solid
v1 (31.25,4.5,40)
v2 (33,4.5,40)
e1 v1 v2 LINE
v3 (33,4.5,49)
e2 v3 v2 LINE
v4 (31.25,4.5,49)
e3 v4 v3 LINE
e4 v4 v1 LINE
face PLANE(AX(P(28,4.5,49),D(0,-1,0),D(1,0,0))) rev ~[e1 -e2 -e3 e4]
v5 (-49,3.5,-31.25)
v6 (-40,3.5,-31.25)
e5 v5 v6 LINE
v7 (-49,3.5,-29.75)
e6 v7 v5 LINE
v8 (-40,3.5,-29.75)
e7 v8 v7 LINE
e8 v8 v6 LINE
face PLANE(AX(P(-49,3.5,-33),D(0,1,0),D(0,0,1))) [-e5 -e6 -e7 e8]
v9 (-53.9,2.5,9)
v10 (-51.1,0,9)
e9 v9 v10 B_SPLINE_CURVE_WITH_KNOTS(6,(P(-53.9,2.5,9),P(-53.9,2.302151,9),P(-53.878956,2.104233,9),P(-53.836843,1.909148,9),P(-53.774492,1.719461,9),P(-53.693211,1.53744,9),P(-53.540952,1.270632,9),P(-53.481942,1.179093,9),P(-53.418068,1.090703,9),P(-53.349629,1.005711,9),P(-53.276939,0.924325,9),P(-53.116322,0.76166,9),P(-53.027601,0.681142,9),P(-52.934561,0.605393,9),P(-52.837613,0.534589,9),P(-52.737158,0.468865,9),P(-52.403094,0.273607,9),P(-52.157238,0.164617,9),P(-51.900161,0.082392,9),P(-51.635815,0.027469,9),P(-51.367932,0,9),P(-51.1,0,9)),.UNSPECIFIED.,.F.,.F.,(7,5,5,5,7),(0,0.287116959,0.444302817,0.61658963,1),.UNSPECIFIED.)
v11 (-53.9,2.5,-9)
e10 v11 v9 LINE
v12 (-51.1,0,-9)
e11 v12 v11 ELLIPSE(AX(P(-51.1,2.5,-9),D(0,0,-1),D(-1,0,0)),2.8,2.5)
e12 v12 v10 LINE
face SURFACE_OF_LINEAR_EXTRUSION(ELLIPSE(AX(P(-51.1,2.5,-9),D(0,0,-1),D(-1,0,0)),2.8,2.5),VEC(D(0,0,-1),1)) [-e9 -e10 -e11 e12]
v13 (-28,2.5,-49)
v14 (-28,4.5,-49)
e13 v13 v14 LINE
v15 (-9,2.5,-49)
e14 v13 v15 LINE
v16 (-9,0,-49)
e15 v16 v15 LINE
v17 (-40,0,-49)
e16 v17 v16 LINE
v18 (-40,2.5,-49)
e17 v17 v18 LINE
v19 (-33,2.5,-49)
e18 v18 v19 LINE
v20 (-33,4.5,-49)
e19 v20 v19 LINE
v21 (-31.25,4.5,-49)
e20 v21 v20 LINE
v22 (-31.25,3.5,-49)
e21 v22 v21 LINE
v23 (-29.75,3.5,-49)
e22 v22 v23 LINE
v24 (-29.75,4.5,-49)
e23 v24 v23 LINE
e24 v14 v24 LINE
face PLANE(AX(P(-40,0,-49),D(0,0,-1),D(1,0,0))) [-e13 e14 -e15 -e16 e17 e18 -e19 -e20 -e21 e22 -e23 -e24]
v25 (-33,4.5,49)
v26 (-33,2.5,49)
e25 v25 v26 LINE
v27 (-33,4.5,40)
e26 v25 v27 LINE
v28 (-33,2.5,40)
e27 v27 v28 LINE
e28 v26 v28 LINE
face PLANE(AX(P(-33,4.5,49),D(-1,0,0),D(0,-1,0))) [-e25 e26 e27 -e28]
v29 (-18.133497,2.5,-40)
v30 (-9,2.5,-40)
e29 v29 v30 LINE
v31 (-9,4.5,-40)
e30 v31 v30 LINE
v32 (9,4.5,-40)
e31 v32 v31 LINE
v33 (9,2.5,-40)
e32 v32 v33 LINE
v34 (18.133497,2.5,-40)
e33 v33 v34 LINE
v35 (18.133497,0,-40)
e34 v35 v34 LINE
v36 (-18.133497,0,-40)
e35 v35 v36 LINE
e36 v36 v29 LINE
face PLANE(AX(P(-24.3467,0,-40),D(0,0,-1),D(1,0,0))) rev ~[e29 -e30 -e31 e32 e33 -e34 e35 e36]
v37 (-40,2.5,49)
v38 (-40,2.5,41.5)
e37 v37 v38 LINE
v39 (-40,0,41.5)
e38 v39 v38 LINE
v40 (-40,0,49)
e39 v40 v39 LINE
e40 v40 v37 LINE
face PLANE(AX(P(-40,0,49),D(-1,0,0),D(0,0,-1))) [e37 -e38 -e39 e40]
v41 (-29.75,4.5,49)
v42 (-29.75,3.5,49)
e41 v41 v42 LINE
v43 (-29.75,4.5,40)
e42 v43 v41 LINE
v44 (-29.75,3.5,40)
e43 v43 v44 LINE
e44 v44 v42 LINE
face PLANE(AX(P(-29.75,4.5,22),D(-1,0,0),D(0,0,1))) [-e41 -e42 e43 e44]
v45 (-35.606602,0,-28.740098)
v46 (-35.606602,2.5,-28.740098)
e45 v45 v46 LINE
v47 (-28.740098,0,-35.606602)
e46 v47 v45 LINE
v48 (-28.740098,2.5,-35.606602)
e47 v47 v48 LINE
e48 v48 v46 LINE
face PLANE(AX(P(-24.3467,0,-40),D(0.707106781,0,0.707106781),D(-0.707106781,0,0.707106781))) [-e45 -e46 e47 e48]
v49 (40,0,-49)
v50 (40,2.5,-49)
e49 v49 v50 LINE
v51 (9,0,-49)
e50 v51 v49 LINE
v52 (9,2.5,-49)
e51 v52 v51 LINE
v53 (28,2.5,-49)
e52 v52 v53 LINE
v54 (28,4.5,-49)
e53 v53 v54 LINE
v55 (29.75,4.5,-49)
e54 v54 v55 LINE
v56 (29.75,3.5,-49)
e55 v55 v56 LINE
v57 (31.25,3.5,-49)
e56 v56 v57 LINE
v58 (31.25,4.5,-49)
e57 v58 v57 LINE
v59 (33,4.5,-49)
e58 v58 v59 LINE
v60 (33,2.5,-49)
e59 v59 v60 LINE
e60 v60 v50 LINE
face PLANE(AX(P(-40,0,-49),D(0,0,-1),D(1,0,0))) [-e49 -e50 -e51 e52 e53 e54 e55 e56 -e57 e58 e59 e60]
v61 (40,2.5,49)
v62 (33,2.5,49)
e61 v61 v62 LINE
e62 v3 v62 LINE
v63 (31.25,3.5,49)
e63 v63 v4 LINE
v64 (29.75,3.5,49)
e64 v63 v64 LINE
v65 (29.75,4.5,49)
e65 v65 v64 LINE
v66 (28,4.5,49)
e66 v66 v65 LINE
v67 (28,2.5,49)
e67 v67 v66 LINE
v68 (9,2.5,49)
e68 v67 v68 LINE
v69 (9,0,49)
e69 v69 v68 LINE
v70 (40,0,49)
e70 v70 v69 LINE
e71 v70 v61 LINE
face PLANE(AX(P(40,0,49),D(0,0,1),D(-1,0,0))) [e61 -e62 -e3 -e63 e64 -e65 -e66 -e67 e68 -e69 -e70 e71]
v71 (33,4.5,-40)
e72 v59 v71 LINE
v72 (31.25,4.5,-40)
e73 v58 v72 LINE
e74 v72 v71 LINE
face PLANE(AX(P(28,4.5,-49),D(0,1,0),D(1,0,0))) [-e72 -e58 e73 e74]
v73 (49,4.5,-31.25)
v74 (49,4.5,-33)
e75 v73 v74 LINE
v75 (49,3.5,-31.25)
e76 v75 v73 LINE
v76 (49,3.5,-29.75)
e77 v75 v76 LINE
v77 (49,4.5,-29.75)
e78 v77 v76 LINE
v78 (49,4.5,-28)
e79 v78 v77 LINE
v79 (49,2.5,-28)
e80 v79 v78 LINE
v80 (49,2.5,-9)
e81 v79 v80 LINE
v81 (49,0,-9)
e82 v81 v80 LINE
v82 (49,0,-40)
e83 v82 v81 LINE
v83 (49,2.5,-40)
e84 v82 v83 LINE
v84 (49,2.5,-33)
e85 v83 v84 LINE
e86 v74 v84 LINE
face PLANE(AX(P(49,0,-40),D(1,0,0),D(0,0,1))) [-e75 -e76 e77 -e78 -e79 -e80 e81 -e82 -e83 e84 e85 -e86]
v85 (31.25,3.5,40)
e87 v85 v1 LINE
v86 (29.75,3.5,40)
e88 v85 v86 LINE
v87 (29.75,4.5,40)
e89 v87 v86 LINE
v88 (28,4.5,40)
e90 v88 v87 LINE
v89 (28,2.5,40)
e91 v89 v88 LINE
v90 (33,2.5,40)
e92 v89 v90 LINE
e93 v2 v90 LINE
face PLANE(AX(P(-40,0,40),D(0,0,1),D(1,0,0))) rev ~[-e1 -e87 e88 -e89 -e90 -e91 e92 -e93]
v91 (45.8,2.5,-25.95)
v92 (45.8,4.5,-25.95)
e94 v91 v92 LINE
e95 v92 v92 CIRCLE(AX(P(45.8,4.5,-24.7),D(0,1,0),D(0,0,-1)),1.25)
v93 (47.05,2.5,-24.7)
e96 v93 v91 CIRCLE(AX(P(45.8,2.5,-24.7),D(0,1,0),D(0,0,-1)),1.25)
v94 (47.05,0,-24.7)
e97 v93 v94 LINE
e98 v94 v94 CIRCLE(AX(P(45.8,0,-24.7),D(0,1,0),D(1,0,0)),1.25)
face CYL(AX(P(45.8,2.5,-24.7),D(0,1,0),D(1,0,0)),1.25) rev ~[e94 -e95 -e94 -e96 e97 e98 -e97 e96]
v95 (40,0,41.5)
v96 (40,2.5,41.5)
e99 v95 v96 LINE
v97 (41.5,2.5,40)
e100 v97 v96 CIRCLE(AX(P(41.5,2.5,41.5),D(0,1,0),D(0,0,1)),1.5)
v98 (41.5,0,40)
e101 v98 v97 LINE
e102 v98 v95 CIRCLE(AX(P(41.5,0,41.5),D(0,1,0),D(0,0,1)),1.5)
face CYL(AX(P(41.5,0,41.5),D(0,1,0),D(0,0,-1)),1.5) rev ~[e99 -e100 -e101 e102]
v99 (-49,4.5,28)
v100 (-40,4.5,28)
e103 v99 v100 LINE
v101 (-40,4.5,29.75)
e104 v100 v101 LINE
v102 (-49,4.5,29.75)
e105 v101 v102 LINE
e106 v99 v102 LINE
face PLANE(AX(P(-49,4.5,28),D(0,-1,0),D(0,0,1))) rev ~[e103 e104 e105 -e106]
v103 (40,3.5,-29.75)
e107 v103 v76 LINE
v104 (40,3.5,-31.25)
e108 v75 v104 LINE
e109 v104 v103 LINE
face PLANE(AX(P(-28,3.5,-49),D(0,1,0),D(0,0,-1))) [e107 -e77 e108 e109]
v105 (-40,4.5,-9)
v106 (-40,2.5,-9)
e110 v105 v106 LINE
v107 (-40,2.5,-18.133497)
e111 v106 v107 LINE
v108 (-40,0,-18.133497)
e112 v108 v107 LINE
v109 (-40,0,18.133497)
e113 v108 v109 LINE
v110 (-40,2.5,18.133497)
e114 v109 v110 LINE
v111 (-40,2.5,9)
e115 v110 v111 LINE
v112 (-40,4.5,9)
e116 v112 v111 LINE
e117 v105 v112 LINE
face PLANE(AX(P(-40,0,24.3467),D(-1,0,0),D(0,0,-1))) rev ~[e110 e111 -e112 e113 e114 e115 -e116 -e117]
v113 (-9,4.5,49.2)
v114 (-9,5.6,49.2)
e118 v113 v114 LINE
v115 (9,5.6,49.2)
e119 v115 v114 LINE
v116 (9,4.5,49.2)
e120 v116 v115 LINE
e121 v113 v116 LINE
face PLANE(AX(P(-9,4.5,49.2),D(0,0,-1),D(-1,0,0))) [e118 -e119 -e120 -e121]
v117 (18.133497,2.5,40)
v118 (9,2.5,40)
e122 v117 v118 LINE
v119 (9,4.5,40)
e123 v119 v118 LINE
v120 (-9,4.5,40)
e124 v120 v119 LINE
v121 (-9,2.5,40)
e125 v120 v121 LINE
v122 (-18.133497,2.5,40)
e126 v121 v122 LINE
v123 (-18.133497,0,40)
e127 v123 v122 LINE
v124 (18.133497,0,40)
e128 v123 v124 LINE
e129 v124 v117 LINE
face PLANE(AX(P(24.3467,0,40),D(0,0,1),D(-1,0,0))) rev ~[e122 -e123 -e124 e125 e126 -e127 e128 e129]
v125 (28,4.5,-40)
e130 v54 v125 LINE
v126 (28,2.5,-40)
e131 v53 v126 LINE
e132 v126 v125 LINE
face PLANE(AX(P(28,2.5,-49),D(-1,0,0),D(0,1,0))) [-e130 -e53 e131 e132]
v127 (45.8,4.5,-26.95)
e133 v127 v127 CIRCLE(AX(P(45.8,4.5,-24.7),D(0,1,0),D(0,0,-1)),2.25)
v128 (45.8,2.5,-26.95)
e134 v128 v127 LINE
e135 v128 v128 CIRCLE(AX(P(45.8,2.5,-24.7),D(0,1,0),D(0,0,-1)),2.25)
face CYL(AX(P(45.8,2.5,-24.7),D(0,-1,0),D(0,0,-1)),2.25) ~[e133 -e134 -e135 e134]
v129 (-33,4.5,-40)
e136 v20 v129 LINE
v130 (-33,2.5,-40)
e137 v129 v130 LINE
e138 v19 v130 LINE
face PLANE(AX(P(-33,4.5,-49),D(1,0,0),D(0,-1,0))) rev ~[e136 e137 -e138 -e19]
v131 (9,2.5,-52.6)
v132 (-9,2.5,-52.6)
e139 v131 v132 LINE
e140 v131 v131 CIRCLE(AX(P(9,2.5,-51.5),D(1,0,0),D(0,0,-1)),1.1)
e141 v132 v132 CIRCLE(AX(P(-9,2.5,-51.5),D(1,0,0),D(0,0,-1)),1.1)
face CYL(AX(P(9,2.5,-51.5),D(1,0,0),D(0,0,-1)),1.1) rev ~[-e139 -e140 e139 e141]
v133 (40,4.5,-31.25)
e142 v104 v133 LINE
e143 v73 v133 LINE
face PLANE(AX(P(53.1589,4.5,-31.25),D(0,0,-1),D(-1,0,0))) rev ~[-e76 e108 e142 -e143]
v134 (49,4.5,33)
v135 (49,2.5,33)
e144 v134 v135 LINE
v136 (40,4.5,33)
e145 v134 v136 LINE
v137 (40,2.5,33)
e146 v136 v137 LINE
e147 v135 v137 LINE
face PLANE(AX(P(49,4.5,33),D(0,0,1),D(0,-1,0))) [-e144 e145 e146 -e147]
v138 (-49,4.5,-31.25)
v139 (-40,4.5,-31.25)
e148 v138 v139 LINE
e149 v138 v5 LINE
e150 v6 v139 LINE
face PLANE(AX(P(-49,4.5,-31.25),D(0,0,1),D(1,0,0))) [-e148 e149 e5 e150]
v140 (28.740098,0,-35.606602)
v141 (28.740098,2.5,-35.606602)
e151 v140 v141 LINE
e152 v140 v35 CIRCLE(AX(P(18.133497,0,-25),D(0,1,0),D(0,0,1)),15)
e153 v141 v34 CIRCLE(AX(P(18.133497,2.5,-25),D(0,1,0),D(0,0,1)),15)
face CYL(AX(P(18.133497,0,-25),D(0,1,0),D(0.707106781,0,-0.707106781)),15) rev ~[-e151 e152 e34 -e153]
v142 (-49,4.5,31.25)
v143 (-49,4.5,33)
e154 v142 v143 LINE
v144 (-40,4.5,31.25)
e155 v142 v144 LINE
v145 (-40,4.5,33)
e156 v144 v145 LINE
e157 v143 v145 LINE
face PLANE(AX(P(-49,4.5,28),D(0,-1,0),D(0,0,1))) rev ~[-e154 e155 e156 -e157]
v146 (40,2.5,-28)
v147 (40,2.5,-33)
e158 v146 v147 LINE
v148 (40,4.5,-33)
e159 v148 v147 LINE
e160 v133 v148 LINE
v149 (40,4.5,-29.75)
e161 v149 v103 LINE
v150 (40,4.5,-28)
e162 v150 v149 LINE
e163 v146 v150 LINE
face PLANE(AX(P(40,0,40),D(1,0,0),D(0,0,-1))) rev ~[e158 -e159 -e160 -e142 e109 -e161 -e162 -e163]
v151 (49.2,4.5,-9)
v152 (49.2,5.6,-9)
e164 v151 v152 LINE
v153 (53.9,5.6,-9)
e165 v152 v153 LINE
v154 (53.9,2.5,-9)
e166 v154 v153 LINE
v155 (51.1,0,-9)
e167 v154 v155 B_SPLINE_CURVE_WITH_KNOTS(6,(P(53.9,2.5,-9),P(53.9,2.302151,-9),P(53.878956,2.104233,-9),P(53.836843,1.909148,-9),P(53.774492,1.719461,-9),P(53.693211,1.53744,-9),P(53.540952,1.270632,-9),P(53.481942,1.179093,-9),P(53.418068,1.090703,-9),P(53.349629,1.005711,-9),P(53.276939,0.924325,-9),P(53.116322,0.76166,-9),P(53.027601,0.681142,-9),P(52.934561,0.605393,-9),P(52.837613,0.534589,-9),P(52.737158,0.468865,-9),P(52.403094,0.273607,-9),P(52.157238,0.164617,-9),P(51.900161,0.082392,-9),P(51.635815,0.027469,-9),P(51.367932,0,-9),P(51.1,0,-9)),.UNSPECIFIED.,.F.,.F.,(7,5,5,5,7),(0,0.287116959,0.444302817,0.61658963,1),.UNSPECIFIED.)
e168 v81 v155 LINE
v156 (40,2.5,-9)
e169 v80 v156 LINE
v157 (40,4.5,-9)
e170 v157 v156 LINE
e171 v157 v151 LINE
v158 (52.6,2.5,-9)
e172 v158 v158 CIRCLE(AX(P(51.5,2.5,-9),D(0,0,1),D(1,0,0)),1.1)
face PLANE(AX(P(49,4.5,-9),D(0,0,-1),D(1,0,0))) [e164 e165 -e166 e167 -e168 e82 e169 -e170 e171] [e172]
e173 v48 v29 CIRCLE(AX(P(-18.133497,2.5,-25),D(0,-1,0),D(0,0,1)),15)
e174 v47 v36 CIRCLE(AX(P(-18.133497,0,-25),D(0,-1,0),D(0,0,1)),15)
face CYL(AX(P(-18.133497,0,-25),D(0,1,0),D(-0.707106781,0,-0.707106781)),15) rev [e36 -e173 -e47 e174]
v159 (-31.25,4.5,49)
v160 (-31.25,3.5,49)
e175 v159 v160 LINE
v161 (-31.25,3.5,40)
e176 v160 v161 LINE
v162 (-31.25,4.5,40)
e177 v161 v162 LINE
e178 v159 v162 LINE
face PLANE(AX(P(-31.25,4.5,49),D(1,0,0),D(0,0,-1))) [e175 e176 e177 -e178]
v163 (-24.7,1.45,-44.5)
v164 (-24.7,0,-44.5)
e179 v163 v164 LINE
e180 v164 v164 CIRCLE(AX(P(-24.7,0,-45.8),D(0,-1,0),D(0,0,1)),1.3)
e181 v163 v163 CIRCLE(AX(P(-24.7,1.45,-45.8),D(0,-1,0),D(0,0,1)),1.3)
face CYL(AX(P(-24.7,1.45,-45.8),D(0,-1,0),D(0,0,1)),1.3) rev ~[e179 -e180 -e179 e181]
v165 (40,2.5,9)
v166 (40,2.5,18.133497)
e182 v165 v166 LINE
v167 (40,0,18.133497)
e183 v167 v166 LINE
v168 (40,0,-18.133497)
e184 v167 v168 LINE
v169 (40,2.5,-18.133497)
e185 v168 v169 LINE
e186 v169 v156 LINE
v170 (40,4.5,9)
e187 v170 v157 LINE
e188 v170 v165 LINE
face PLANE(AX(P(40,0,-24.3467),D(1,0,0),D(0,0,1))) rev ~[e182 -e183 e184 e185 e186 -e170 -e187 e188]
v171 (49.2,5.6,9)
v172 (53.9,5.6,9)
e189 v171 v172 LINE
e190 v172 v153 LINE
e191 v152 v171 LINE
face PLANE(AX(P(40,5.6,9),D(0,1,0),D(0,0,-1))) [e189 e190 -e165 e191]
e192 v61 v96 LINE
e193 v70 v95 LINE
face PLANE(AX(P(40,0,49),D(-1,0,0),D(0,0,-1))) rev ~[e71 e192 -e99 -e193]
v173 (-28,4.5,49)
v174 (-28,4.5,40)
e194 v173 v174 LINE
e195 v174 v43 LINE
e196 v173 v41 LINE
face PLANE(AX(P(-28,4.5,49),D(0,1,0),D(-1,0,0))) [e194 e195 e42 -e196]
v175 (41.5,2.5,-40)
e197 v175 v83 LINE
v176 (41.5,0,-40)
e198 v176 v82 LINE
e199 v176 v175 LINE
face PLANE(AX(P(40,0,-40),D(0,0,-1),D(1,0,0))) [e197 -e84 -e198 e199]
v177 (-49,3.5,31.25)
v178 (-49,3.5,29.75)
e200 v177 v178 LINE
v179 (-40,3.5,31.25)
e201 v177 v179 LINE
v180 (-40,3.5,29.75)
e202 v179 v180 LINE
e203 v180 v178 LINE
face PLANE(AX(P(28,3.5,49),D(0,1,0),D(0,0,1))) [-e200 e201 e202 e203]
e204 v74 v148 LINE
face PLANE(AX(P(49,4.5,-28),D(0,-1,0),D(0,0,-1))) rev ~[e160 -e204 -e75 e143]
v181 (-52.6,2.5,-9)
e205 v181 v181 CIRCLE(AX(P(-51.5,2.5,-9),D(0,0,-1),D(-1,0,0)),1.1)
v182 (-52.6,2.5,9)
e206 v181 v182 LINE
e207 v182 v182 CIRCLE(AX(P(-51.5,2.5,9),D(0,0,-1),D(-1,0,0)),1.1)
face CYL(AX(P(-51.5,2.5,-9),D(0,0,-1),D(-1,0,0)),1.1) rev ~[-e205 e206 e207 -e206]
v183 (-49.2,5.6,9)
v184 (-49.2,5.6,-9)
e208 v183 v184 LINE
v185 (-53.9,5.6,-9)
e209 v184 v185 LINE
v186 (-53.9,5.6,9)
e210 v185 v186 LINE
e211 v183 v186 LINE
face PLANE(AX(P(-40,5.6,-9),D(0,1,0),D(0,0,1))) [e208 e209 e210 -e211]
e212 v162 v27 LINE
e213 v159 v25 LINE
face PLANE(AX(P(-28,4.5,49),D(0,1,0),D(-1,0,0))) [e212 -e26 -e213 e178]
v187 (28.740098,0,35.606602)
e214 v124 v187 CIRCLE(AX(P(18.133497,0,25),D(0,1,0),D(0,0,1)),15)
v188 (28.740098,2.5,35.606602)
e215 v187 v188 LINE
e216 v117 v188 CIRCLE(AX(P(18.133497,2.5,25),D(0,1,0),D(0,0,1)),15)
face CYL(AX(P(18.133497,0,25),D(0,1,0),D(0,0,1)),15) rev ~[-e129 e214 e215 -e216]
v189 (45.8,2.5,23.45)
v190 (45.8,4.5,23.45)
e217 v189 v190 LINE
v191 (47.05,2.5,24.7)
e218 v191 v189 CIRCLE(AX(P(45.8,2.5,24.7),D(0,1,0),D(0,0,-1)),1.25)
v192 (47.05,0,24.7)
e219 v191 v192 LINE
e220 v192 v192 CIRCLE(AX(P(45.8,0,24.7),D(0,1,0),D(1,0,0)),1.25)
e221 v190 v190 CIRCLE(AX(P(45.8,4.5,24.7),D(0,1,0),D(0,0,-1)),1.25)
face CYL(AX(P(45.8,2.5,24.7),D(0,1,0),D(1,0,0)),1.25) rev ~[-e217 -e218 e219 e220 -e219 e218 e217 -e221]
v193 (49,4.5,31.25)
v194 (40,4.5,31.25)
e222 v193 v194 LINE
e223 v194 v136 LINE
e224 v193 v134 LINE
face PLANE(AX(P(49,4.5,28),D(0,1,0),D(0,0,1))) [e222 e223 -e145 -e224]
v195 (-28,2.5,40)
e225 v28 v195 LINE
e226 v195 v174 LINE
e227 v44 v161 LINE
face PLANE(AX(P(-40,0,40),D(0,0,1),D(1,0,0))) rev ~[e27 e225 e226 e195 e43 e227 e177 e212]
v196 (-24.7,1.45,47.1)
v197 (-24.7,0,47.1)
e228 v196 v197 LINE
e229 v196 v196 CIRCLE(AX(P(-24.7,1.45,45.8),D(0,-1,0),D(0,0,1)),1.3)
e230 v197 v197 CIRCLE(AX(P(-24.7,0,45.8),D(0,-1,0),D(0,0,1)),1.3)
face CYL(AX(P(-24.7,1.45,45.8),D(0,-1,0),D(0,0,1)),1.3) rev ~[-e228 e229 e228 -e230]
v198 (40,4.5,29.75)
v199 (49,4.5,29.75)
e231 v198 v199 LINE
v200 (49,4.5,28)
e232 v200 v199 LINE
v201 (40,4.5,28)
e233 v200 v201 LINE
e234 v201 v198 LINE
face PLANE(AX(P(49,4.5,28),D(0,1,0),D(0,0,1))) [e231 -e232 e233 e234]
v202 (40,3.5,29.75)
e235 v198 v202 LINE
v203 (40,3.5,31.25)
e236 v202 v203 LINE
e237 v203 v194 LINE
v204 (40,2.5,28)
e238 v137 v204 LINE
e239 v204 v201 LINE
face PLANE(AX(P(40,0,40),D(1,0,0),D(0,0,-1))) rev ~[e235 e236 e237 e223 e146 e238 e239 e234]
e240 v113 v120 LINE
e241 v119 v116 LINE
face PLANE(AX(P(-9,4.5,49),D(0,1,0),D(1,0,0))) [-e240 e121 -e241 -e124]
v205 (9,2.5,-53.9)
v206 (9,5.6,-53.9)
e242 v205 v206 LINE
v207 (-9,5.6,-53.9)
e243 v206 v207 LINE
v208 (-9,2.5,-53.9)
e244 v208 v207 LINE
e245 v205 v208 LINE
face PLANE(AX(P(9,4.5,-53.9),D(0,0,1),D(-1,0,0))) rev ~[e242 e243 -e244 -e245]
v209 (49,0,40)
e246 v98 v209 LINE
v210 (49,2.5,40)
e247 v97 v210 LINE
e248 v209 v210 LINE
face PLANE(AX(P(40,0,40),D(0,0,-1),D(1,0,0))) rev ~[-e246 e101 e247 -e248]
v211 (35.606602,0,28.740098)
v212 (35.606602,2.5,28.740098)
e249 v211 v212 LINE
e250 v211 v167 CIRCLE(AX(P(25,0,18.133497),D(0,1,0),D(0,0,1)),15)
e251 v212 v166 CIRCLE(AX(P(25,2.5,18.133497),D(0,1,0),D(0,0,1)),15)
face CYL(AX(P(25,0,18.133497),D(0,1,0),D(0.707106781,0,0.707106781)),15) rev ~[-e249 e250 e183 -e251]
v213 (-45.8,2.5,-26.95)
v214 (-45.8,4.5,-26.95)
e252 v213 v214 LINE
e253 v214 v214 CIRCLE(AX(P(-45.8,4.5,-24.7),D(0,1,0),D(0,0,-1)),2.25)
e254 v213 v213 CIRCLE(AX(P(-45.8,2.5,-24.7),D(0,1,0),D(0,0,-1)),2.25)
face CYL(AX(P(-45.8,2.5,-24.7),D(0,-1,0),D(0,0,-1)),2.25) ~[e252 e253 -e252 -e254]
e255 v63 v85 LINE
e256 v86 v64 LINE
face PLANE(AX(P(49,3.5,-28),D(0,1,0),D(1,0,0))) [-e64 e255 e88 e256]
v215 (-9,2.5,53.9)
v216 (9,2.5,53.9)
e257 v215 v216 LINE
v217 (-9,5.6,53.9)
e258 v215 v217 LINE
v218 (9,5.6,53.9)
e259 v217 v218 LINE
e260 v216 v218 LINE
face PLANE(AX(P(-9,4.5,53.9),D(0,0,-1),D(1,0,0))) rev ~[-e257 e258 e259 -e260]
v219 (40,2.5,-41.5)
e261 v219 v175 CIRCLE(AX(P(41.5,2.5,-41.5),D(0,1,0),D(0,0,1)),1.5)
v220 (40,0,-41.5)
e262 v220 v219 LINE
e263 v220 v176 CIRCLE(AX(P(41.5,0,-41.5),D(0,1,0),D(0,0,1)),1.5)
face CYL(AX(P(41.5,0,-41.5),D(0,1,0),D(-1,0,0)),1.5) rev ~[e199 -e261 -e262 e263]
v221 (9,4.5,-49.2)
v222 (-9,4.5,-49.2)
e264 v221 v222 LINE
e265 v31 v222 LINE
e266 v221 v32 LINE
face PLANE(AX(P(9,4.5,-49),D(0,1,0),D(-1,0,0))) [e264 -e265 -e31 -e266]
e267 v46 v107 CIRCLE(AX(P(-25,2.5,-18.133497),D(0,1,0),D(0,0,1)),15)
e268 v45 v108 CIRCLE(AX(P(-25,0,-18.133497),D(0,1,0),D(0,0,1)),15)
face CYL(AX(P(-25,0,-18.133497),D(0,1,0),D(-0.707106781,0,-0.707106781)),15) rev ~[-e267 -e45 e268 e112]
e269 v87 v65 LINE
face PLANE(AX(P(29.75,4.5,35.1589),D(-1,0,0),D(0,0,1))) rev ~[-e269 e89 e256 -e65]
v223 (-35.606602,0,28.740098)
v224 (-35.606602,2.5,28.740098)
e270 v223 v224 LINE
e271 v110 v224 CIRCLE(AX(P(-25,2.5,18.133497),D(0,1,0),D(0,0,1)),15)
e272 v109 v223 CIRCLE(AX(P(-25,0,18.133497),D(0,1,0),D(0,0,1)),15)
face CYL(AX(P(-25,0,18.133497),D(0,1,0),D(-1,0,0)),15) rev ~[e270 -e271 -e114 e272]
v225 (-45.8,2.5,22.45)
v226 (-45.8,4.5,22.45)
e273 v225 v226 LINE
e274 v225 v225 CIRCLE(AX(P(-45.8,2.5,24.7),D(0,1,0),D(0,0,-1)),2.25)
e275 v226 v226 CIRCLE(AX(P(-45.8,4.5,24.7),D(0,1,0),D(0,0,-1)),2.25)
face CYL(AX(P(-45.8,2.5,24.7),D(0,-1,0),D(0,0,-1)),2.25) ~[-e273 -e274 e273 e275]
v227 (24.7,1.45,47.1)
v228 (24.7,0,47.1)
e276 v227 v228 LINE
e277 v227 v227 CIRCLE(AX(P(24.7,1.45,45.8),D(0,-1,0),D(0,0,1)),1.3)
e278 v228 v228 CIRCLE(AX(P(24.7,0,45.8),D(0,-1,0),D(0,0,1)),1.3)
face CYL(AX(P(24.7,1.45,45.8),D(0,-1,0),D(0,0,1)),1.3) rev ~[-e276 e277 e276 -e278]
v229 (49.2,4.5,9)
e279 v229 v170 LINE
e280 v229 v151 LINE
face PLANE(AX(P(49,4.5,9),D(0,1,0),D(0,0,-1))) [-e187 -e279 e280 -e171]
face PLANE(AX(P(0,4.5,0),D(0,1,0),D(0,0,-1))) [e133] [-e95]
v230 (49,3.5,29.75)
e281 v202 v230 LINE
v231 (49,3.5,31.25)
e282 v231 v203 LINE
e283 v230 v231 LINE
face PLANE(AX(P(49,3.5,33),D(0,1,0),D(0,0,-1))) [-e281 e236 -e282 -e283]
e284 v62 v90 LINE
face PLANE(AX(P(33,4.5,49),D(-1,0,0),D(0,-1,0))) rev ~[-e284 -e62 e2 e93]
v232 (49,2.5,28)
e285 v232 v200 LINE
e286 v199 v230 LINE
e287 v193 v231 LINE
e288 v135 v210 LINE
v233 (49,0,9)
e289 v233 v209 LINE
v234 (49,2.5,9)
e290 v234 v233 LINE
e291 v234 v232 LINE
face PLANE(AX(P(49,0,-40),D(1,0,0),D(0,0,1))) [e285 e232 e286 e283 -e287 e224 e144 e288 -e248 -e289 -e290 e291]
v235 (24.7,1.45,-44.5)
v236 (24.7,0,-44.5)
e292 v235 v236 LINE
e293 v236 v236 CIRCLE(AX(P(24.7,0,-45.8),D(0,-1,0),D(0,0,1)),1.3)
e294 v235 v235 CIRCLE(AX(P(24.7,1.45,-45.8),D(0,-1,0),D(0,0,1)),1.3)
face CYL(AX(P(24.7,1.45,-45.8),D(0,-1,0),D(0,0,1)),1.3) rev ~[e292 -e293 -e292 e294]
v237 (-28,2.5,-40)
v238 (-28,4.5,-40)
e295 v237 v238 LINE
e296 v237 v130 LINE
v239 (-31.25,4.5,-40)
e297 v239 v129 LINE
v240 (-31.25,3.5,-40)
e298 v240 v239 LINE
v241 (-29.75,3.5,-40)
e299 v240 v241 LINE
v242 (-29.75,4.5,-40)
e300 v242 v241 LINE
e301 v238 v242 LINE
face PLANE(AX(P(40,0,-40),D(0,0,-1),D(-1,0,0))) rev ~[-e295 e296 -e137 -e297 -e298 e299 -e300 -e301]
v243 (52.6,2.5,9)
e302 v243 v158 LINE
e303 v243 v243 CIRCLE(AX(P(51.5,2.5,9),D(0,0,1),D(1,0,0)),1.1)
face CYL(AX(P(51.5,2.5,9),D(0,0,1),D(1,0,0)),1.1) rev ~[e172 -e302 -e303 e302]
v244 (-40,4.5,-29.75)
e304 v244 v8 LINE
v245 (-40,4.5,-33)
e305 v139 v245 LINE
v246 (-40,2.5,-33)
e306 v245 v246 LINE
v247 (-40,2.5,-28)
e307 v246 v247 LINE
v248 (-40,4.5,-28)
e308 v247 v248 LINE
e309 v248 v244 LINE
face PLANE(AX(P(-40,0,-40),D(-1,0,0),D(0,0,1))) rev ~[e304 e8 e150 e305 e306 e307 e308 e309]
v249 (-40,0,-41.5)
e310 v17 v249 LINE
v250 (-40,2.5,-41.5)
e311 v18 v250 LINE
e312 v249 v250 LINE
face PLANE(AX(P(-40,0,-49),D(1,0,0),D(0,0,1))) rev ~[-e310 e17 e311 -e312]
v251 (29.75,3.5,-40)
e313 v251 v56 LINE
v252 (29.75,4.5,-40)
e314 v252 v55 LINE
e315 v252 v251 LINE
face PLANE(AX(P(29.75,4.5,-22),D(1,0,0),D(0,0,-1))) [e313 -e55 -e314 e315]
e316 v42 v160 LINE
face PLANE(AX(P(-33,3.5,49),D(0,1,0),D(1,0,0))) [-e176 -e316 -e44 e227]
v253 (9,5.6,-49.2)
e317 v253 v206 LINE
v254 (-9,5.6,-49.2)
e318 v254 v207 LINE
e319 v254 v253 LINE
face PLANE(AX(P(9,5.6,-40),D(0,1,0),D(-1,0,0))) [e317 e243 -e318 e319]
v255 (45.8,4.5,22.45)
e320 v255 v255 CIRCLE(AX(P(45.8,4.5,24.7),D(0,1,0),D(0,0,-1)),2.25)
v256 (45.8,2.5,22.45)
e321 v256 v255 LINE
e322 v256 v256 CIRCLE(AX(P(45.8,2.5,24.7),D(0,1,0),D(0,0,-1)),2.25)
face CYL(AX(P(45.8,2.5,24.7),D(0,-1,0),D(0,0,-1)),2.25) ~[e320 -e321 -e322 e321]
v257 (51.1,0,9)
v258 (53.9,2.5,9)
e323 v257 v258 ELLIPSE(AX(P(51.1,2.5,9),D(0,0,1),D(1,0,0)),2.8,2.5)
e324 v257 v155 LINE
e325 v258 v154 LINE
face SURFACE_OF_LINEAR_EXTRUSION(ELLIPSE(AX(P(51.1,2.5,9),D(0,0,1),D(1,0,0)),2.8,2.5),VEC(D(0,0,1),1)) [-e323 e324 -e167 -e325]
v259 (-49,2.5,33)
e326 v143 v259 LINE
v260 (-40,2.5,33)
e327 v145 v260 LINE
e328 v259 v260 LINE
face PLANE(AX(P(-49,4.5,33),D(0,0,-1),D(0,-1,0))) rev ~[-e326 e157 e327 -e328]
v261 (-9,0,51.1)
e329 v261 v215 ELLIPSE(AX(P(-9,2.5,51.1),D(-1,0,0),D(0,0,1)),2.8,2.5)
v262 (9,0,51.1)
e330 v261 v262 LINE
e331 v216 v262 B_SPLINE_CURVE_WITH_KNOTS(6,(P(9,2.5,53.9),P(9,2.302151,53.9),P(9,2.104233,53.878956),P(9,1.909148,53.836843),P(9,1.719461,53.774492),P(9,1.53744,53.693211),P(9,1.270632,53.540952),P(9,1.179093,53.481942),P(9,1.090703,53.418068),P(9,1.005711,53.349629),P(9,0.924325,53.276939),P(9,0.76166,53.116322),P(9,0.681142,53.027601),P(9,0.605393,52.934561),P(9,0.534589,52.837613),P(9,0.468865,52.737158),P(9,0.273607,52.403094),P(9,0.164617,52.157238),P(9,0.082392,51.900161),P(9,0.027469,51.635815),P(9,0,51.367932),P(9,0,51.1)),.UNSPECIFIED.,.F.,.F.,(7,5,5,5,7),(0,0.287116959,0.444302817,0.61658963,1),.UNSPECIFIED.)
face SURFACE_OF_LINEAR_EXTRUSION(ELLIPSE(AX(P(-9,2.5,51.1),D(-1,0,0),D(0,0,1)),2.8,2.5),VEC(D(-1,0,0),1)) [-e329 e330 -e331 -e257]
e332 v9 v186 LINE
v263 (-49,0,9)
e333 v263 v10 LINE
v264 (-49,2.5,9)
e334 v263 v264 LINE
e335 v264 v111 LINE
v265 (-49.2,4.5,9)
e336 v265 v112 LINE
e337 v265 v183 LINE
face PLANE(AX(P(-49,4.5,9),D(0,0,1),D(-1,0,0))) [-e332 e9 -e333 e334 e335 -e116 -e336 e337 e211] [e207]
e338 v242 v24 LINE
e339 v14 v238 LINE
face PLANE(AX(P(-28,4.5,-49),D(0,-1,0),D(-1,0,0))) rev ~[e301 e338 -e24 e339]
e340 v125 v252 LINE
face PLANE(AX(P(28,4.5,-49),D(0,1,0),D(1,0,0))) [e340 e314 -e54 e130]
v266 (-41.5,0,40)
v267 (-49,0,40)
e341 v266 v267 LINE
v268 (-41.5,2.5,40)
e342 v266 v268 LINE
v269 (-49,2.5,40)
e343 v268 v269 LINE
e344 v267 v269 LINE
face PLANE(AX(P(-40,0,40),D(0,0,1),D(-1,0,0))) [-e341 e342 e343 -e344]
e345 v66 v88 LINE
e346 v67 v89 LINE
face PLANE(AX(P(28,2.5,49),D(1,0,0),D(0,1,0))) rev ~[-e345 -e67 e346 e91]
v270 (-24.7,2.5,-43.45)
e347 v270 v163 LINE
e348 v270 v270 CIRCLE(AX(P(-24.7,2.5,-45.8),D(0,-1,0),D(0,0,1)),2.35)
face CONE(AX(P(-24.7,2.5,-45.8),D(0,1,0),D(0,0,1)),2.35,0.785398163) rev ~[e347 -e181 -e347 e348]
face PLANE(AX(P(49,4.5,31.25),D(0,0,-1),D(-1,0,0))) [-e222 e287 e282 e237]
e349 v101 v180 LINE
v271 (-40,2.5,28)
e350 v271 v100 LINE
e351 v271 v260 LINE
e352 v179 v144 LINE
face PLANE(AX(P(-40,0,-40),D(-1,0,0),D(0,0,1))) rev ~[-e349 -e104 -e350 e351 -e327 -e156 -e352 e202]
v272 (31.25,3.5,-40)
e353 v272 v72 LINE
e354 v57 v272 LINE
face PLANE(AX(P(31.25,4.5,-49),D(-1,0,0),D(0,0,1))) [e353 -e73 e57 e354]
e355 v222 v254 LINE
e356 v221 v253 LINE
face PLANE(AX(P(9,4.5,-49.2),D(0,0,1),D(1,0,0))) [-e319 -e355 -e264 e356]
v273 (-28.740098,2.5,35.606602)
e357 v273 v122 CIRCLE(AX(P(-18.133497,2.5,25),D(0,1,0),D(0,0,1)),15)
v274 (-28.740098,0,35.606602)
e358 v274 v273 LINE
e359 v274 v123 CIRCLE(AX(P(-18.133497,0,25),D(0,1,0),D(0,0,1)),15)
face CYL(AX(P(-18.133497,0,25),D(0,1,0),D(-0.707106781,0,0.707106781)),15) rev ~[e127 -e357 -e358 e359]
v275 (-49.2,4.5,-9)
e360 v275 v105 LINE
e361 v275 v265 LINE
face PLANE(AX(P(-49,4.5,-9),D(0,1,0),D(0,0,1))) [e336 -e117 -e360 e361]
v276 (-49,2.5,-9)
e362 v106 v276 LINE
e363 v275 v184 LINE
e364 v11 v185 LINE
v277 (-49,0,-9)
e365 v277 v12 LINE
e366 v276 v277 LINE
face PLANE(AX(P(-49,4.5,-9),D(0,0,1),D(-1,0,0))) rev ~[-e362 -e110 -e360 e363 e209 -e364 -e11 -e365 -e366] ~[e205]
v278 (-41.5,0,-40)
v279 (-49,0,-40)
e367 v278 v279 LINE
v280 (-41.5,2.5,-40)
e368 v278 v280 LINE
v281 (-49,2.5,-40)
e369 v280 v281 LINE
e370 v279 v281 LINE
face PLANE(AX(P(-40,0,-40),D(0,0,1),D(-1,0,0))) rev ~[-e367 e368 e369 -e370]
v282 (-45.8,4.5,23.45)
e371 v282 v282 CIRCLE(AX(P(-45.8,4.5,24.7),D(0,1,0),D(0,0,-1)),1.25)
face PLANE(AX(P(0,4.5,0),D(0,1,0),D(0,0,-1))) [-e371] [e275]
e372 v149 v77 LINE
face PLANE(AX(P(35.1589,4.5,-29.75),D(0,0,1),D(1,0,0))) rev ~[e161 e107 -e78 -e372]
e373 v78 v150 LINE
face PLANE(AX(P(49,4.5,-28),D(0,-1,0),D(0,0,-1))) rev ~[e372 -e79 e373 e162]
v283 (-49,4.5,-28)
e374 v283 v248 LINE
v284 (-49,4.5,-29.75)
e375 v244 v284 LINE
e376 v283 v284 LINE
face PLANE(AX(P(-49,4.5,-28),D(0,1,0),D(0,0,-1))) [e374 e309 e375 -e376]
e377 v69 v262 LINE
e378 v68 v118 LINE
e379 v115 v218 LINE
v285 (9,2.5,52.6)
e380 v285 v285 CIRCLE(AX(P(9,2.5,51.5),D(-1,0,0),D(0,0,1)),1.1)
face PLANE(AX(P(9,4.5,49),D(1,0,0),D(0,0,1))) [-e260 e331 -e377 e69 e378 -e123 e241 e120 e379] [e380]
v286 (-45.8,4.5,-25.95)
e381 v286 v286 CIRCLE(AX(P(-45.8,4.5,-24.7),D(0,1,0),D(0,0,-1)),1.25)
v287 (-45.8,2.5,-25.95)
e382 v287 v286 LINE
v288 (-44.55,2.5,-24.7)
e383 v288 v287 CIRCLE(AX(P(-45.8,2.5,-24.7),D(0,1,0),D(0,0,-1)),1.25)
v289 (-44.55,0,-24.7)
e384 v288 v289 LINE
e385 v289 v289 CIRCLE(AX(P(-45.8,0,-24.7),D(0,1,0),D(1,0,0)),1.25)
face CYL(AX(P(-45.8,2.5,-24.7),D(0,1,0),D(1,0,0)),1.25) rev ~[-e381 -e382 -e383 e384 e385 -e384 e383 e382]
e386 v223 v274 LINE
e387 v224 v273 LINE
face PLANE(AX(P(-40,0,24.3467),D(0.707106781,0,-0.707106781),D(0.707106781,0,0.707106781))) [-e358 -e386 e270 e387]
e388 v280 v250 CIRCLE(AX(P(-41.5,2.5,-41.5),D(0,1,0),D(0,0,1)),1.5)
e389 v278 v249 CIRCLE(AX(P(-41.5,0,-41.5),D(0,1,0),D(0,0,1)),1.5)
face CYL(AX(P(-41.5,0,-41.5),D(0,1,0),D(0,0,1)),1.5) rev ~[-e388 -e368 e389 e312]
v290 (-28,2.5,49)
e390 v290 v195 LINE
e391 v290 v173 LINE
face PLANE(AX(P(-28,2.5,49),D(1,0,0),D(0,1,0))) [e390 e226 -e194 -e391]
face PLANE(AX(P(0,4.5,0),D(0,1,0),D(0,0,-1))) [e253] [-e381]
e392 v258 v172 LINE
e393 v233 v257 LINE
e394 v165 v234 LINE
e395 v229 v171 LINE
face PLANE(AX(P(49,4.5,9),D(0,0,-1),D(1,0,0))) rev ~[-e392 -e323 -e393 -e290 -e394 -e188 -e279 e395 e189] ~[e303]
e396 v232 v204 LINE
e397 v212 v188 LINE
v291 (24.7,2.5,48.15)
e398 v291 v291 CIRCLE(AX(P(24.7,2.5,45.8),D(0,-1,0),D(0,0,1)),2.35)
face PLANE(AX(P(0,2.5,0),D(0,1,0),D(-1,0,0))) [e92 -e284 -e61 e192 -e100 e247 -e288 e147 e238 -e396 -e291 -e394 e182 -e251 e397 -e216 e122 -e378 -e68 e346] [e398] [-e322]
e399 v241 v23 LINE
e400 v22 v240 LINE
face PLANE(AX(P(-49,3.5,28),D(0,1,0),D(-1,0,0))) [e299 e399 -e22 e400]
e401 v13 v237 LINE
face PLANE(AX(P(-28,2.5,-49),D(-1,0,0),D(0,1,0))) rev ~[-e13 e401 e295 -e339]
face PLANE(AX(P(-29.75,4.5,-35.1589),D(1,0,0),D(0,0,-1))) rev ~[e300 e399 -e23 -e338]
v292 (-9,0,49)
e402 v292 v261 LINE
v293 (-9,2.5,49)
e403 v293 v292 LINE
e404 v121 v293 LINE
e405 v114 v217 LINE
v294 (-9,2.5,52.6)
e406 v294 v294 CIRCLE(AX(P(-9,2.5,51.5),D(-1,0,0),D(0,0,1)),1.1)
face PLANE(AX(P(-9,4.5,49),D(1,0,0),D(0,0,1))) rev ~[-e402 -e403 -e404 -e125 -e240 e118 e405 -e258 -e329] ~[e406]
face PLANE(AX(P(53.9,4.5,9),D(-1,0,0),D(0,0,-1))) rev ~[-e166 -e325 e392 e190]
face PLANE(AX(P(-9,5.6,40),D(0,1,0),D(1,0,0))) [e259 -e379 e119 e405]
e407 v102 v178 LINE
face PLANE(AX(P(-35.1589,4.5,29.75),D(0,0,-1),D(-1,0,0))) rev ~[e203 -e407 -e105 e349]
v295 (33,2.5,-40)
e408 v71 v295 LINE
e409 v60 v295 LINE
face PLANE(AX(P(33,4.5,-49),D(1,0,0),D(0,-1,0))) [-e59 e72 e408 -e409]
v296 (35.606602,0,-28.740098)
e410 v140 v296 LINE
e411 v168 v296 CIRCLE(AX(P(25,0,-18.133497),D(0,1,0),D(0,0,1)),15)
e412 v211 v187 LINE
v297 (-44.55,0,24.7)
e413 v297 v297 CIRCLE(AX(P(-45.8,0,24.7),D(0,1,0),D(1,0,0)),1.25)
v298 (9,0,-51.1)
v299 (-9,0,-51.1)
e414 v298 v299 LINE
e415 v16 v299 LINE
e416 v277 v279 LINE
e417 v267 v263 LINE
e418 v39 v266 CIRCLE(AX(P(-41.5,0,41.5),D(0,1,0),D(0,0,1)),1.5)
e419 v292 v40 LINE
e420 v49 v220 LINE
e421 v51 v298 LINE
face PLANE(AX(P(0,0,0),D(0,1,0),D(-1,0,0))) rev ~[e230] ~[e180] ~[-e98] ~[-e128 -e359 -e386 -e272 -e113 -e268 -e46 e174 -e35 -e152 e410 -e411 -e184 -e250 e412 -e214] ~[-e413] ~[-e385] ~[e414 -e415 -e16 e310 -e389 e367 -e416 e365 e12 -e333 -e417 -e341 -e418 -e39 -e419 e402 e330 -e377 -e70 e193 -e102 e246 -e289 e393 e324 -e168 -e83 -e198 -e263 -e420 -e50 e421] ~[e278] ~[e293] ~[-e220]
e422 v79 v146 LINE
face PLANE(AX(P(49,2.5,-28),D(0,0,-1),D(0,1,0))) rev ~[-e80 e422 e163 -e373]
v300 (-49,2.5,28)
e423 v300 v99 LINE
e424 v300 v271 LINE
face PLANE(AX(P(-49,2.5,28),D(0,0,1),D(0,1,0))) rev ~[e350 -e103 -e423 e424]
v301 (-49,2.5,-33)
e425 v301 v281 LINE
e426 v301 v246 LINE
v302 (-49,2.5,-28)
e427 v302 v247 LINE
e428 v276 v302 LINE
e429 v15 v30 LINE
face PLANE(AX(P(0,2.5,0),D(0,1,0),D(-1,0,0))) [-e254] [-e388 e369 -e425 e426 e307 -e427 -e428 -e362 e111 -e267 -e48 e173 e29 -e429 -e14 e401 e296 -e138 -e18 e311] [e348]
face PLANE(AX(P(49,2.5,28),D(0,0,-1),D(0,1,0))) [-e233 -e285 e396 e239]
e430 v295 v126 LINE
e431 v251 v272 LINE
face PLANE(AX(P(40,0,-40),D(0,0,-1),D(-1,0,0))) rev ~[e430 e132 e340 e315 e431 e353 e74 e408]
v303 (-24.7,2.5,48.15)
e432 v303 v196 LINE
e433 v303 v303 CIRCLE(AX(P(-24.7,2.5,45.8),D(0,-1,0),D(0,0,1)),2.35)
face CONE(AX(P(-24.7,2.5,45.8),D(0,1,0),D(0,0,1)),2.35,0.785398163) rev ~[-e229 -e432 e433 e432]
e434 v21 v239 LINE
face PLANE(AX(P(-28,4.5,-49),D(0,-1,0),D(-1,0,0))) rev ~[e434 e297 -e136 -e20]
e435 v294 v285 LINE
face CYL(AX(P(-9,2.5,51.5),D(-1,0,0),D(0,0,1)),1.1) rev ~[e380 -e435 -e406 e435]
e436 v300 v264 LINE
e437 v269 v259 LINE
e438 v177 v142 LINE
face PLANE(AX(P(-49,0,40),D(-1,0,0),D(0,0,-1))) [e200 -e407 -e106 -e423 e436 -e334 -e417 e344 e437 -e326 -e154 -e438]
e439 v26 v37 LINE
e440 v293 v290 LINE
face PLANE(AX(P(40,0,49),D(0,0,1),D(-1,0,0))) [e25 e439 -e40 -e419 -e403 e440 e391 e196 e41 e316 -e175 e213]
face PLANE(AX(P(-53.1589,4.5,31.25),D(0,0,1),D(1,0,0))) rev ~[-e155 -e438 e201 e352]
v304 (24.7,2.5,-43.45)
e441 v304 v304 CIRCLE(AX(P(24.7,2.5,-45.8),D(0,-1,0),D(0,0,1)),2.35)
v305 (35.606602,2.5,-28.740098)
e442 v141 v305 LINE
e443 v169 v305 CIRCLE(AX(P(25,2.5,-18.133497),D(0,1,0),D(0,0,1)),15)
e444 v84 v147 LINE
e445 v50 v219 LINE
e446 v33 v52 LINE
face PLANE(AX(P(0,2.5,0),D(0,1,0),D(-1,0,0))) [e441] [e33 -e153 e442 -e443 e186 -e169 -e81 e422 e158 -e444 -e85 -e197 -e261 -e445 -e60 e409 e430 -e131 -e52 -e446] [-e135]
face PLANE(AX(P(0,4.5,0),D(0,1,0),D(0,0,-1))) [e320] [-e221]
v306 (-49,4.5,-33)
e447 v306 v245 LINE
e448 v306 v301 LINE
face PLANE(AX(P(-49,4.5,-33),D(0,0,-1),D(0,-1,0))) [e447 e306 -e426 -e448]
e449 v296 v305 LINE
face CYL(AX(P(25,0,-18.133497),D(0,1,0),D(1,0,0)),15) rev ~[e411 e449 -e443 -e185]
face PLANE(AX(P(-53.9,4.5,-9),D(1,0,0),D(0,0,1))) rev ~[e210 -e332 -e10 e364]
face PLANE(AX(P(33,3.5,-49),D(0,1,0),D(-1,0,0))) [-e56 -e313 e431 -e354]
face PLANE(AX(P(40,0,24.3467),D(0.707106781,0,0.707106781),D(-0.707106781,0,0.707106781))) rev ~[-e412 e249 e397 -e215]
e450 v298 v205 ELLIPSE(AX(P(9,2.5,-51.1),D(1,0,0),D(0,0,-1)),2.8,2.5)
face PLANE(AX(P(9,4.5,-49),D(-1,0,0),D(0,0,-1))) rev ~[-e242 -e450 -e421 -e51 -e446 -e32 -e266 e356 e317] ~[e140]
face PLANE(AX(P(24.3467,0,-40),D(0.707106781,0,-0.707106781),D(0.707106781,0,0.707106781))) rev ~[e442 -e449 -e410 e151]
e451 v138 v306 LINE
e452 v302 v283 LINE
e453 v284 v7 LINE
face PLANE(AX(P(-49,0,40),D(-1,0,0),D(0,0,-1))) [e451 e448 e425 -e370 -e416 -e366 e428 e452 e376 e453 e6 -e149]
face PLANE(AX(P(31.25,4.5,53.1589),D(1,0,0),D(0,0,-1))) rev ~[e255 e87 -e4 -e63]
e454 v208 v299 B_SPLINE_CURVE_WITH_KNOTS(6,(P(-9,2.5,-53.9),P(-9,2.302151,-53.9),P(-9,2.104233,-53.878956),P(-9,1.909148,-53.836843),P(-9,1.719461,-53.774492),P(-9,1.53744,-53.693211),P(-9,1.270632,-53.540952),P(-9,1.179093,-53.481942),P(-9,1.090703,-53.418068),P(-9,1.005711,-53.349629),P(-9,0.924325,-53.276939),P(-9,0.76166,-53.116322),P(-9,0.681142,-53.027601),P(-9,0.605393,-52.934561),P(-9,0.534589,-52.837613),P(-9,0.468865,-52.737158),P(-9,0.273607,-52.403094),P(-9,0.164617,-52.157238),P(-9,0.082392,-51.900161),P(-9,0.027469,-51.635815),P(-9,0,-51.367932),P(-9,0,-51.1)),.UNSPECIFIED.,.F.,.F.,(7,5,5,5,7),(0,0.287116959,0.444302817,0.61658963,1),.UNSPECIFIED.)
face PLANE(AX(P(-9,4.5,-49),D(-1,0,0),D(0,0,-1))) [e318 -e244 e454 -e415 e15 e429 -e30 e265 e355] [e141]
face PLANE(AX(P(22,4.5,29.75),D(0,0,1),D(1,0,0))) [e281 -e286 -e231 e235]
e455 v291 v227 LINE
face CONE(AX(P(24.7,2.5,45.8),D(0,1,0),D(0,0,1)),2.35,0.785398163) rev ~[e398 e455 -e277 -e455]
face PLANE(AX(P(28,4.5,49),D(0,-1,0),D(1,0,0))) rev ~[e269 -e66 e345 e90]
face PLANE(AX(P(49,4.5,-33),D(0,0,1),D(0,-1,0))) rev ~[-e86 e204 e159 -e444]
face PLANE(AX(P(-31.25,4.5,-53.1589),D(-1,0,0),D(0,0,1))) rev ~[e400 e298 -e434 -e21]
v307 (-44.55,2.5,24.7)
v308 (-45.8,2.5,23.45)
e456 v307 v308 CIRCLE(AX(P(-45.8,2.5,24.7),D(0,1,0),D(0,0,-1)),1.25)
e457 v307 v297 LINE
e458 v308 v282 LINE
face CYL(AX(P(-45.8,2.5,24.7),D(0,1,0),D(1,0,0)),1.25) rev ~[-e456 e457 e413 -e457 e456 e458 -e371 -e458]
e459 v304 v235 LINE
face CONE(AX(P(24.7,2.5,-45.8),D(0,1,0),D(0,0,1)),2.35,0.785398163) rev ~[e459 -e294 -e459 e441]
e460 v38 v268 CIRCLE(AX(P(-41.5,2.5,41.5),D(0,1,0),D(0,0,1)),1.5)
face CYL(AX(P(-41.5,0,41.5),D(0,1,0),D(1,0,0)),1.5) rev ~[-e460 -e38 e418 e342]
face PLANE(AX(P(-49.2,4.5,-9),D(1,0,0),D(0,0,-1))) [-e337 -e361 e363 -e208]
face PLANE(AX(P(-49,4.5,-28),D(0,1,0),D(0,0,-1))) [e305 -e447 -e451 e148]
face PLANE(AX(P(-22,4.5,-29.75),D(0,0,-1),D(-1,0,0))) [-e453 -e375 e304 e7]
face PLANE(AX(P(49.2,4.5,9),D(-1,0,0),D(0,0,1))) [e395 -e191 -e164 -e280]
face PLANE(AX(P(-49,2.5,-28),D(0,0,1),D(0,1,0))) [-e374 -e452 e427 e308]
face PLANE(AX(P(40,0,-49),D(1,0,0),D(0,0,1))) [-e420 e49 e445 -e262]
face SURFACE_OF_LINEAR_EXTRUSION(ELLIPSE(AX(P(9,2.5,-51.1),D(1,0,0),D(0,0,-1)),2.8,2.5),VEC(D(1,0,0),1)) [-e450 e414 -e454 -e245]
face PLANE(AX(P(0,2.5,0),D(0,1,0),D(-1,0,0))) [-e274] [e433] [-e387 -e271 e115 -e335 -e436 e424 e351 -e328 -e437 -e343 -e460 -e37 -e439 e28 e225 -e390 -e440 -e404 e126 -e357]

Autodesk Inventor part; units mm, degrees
ref_plane "YZ Plane" through (0, 0, 0) normal (1, 0, 0) x (0, 1, 0)
ref_plane "XZ Plane" through (0, 0, 0) normal (0, 1, 0) x (-1, 0, 0)
sketch "Boceto1" plane through (0, 0, 0) normal (0, 1, 0) x (-1, 0, 0)
  line L0 (-40, 49) -> (40, 49)
  line L1 (49, 40) -> (49, -40)
  line L2 (40, -49) -> (-40, -49)
  line L3 (-49, -40) -> (-49, 40)
  line L4 (49, 49) -> (-49, -49) construction
  line L5 (40, 49) -> (40, 40)
  line L6 (40, 40) -> (49, 40)
  line L7 (40, -49) -> (40, -40)
  line L8 (40, -40) -> (49, -40)
  line L9 (-40, -49) -> (-40, -40)
  line L10 (-40, -40) -> (-49, -40)
  line L11 (-40, 49) -> (-40, 40)
  line L12 (-40, 40) -> (-49, 40)
  line L13 (24.3467, -40) -> (-24.3467, -40)
  line L14 (-40, -24.3467) -> (-40, 24.3467)
  line L15 (-24.3467, 40) -> (24.3467, 40)
  line L16 (40, 24.3467) -> (40, -24.3467)
  line L17 (40, -40) -> (-40, 40) construction
  line L18 (-40, -40) -> (40, 40) construction
  line L19 (-24.3467, -40) -> (-40, -24.3467)
  line L20 (40, 24.3467) -> (24.3467, 40)
  line L21 (24.3467, -40) -> (40, -24.3467)
  line L22 (-40, 24.3467) -> (-24.3467, 40)
  point P0 (0, 0)
  dimension "d2" = 9
  dimension "d3" = 9
  dimension "d4" = 9
  dimension "d5" = 9
  dimension "d6" = 9
  dimension "d7" = 9
  dimension "d8" = 9
  dimension "d9" = 9
  dimension "d10" = 49
  dimension "d11" = 49
  dimension "d15" = 80
  dimension "d16" = 80
  dimension "d17" = 91
  dimension "d18" = 45.5
extrude "Extrusión2" add sketch "Boceto1" along normal blind 2.5
fillet "Empalme2" radius 1.5 4 edges at (40, 1.25, -40) (-40, 1.25, -40) (-40, 1.25, 40) (40, 1.25, 40)
fillet "Empalme2" radius 15 8 edges at (24.3467, 1.25, -40) (40, 1.25, -24.3467) (-24.3467, 1.25, -40) (-40, 1.25, -24.3467) (-40, 1.25, 24.3467) (24.3467, 1.25, 40) (40, 1.25, 24.3467) (-24.3467, 1.25, 40)
sketch "Boceto2" plane through (0, 2.5, 0) normal (0, 1, 0) x (1, 0, 0)
  circle A0 centre (24.7, -45.8) radius 1.25
  line L0 (49, -40) -> (49, 40) projected
  line L1 (-40, -49) -> (40, -49) projected
  line L2 (0, -49) -> (0, -40)
  circle A1 centre (-24.7, -45.8) radius 1.25
  line L3 (4.6367, 0) -> (-5.7922, 0)
  circle A2 centre (24.7, 45.8) radius 1.25
  circle A3 centre (-24.7, 45.8) radius 1.25
  point P0 (0, 0)
  dimension "d23" = 2.5
  dimension "d24" = 24.3
  dimension "d25" = 3.2
extrude "Extrusión3" cut sketch "Boceto2" against normal through all
sketch "Boceto3" plane through (0, 2.5, 0) normal (0, 1, 0) x (1, 0, 0)
  circle A0 centre (24.7, -45.8) radius 1.25 projected
  circle A1 centre (24.7, -45.8) radius 1.3
  circle A2 centre (24.7, -45.8) radius 2.25
  circle A3 centre (-24.7, -45.8) radius 1.25 projected
  circle A4 centre (-24.7, -45.8) radius 1.3
  circle A5 centre (-24.7, -45.8) radius 2.25
  line L0 (3.3315, 0) -> (-5.7248, 0)
  circle A6 centre (24.7, 45.8) radius 1.25
  circle A7 centre (24.7, 45.8) radius 1.3
  circle A8 centre (24.7, 45.8) radius 2.25
  circle A9 centre (-24.7, 45.8) radius 1.25
  circle A10 centre (-24.7, 45.8) radius 1.3
  circle A11 centre (-24.7, 45.8) radius 2.25
  point P0 (0, 0)
  dimension "d28" = 1
  dimension "d29" = 1
extrude "Extrusión4" add sketch "Boceto3" along normal blind 2 contours A1 | A2 | A4 | A5 | A7 | A8 | A10 | A11
sketch "Boceto4" plane through (18.1335, 2.5, 40) normal (0, 0, -1) x (-1, 0, 0)
  line L0 (36.267, -2.5) -> (0, -2.5) projected
  line L1 (9.1335, -2.5) -> (27.1335, -2.5)
  line L2 (27.1335, -2.5) -> (27.1335, 2)
  line L3 (27.1335, 2) -> (9.1335, 2)
  line L4 (9.1335, 2) -> (9.1335, -2.5)
  line L5 (58.1335, 0) -> (-21.8665, 0) projected
  line L6 (18.1335, 0) -> (18.1335, -2.5)
  dimension "d32" = 4.5
  dimension "d33" = 18
  dimension "d34" = 9
extrude "Extrusión5" add sketch "Boceto4" against normal blind 13.9
sketch "Boceto5" plane through (-9, 4.5, 40) normal (0, 1, 0) x (1, 0, 0)
  line L0 (0, -13.9) -> (18, -13.9) projected
  line L1 (0, -9) -> (0, -13.9) projected
  line L2 (18, -13.9) -> (0, -13.9)
  line L3 (0, -13.9) -> (0, -9)
  line L4 (0, -9) -> (18, -9)
  line L5 (18, -9) -> (18, -13.9)
  point P0 (9, 40)
extrude "Extrusión6" add sketch "Boceto5" along normal blind 1.1
sketch "Boceto6" plane through (-9, 2.5, 40) normal (-1, 0, 0) x (0, 0, 1)
  circle A0 centre (11.5, 0) radius 1.1
  line L0 (9, -2.5) -> (13.9, -2.5) projected
  line L1 (13.9, -2.5) -> (13.9, 3.1) projected
  point P0 (-40, -2.5)
  dimension "d39" = 2.2
  dimension "d40" = 2.5
  dimension "d41" = 2.4
extrude "Extrusión7" cut sketch "Boceto6" against normal through all
sketch "Boceto7" plane through (-9, 2.5, 40) normal (-1, 0, 0) x (0, 0, 1)
  line L0 (9, -2.5) -> (13.9, -2.5) projected
  line L1 (13.9, -2.5) -> (11.1, -2.5)
  line L2 (13.9, -2.5) -> (13.9, 0)
  line L3 (13.9, -2.5) -> (13.9, 3.1) projected
  ellipse E0 centre (11.1, 0) end of major axis (11.1, -2.5) minor radius 2.8 (11.1, -2.5) -> (13.9, 0) ccw
  point P0 (-40, -2.5)
  dimension "d44" = 2.8
  dimension "d45" = 2.5
extrude "Extrusión8" cut sketch "Boceto7" against normal through all
sketch "Boceto8" plane through (-40, 0, 49) normal (0, 0, 1) x (1, 0, 0)
  line L0 (0, 0) -> (0, 2.5) projected
  line L1 (12, 2.5) -> (12, 4.5)
  line L2 (12, 4.5) -> (7, 4.5)
  line L3 (7, 4.5) -> (7, 2.5)
  line L4 (7, 2.5) -> (8.5, 2.5)
  line L5 (10.5, 2.5) -> (12, 2.5)
  line L6 (31, 5.6) -> (49, 5.6) projected
  line L7 (40, 5.6) -> (40, 0)
  line L8 (68, 2.5) -> (68, 4.5)
  line L9 (68, 4.5) -> (73, 4.5)
  line L10 (73, 4.5) -> (73, 2.5)
  line L11 (73, 2.5) -> (71.5, 2.5)
  line L12 (69.5, 2.5) -> (68, 2.5)
  line L13 (31, 2.5) -> (31, 0) projected
  line L14 (0, 2.5) -> (31, 2.5) projected
  line L15 (8.5, 2.5) -> (10.5, 2.5)
  line L16 (80, 2.5) -> (0, 2.5) projected
  line L17 (69.5, 2.5) -> (71.5, 2.5)
  dimension "d53" = 2
  dimension "d54" = 5
  dimension "d86" = 0
  dimension "d87" = 0
  dimension "d92" = 7
extrude "Extrusión9" add sketch "Boceto8" against normal blind 9
pattern_circular "Patrón circular1" count 4 over 360 about axis through (0, -10, 0) along (0, 1, 0) of "Extrusión5", "Extrusión6", "Extrusión7", "Extrusión8", "Extrusión9"
pattern_circular "Patrón circular2" count 2 over 90 about axis through (0, -10, 0) along (0, 1, 0) of "Extrusión4"
sketch "Boceto10" plane through (49, 4.5, -28) normal (0, 1, 0) x (1, 0, 0)
  line L0 (-19.25, -81.1589) -> (-17.75, -81.1589)
  line L1 (-17.75, -81.1589) -> (-17.75, -63.1589)
  line L2 (-19.25, -63.1589) -> (-19.25, -81.1589)
  line L3 (-19.25, -81.1589) -> (-17.75, -63.1589) construction
  line L4 (-17.75, -81.1589) -> (-19.25, -63.1589) construction
  line L5 (-19.25, -63.1589) -> (-17.75, -63.1589)
  line L6 (-16, -77) -> (-16, -68) projected
  point P0 (-49, -28)
  point P1 (-18.5, -72.1589)
  dimension "d157" = 1.5
  dimension "d159" = 2.5
extrude "Extrusión11" cut sketch "Boceto10" against normal blind 1
sketch "Boceto11" plane through (-49, 4.5, -9) normal (1, 0, 0) x (0, 0, -1)
  line L0 (0, 0) -> (-18, 0) projected
  line L1 (0, 0) -> (0, 1.1) projected
  line L2 (-18, 1.1) -> (0, 1.1) projected
  line L3 (-18, 0) -> (-18, 1.1) projected
  point P0 (-9, -4.5)
extrude "Extrusión12" cut sketch "Boceto11" against normal blind 0.2
pattern_circular "Patrón circular3" count 4 over 360 about axis through (0, -10, 0) along (0, 1, 0) of "Extrusión12"
sketch "Boceto12" plane through (-45.8, 2.5, 24.7) normal (0, 1, 0) x (1, 0, 0)
  circle A0 centre (0, 0) radius 1.25 projected
  circle A1 centre (0, 49.4) radius 1.25 projected
  circle A2 centre (91.6, 49.4) radius 1.25 projected
  circle A3 centre (91.6, 0) radius 1.25 projected
  point P0 (45.8, 24.7)
extrude "Extrusión13" cut sketch "Boceto12" against normal blind 10
ref_plane "Plano de trabajo2" through (-33, 4.5, 49) normal (0, 1, 0) x (1, 0, 0)
sketch "Boceto13" plane through (-33, 4.5, 49) normal (0, 1, 0) x (1, 0, 0)
  line L0 (1.75, 27) -> (3.25, 27)
  line L1 (3.25, 27) -> (3.25, 0)
  line L2 (3.25, 0) -> (1.75, 0)
  line L3 (1.75, 0) -> (1.75, 27)
  line L4 (1.75, 27) -> (3.25, 0) construction
  line L5 (3.25, 27) -> (1.75, 0) construction
  line L6 (5, 0) -> (5, 9) projected
  point P0 (33, 49)
  point P1 (2.5, 13.5)
  dimension "d111" = 1.5
  dimension "d156" = 2.5
extrude "Extrusión14" cut sketch "Boceto13" against normal blind 1
pattern_circular "Patrón circular5" count 4 over 360 about axis through (0, -10, 0) along (0, 1, 0) of "Extrusión14"
sketch "Boceto14" plane through (24.7, 4.5, 45.8) normal (0, 1, 0) x (1, 0, 0)
  circle A0 centre (-49.4, 0) radius 1.25 projected
  circle A1 centre (-49.4, 0) radius 2.25 projected
  circle A2 centre (0, 0) radius 2.25 projected
  circle A3 centre (-49.4, 91.6) radius 2.25 projected
  circle A4 centre (0, 91.6) radius 2.25 projected
  point P0 (-24.7, 45.8)
extrude "Extrusión15" cut sketch "Boceto14" against normal up to surface (2 mm away) contours A0 | A1 | A2 | A3 | A4
sketch "Boceto15" plane through (0, 2.5, 0) normal (0, 1, 0) x (1, 0, 0)
  circle A0 centre (-24.7, -45.8) radius 1.25 projected
  point P0 (0, 0)
hole "Agujero1" at (-24.7, 2.5, 45.8) direction (0, -1, 0) diameter 2.6 end through all countersink diameter 4.7 countersink angle 90
sketch "Boceto16" plane through (0, 2.5, 0) normal (0, 1, 0) x (1, 0, 0)
  circle A0 centre (24.7, -45.8) radius 1.25 projected
  point P0 (0, 0)
hole "Agujero2" at (24.7, 2.5, 45.8) direction (0, -1, 0) diameter 2.6 end through all countersink diameter 4.7 countersink angle 90
sketch "Boceto17" plane through (0, 2.5, 0) normal (0, 1, 0) x (1, 0, 0)
  circle A0 centre (24.7, 45.8) radius 1.25 projected
  point P0 (0, 0)
hole "Agujero3" at (24.7, 2.5, -45.8) direction (0, -1, 0) diameter 2.6 end through all countersink diameter 4.7 countersink angle 90
sketch "Boceto18" plane through (0, 2.5, 0) normal (0, 1, 0) x (1, 0, 0)
  circle A0 centre (-24.7, 45.8) radius 1.25 projected
  point P0 (0, 0)
hole "Agujero4" at (-24.7, 2.5, -45.8) direction (0, -1, 0) diameter 2.6 end through all countersink diameter 4.7 countersink angle 90
pattern_circular "Patrón circular6" count 4 over 360 about axis through (0, -10, 0) along (0, 1, 0) of "Extrusión11"
properties part number "SoporteUNION_Rev.1" material "WindForm xt 2.0"
